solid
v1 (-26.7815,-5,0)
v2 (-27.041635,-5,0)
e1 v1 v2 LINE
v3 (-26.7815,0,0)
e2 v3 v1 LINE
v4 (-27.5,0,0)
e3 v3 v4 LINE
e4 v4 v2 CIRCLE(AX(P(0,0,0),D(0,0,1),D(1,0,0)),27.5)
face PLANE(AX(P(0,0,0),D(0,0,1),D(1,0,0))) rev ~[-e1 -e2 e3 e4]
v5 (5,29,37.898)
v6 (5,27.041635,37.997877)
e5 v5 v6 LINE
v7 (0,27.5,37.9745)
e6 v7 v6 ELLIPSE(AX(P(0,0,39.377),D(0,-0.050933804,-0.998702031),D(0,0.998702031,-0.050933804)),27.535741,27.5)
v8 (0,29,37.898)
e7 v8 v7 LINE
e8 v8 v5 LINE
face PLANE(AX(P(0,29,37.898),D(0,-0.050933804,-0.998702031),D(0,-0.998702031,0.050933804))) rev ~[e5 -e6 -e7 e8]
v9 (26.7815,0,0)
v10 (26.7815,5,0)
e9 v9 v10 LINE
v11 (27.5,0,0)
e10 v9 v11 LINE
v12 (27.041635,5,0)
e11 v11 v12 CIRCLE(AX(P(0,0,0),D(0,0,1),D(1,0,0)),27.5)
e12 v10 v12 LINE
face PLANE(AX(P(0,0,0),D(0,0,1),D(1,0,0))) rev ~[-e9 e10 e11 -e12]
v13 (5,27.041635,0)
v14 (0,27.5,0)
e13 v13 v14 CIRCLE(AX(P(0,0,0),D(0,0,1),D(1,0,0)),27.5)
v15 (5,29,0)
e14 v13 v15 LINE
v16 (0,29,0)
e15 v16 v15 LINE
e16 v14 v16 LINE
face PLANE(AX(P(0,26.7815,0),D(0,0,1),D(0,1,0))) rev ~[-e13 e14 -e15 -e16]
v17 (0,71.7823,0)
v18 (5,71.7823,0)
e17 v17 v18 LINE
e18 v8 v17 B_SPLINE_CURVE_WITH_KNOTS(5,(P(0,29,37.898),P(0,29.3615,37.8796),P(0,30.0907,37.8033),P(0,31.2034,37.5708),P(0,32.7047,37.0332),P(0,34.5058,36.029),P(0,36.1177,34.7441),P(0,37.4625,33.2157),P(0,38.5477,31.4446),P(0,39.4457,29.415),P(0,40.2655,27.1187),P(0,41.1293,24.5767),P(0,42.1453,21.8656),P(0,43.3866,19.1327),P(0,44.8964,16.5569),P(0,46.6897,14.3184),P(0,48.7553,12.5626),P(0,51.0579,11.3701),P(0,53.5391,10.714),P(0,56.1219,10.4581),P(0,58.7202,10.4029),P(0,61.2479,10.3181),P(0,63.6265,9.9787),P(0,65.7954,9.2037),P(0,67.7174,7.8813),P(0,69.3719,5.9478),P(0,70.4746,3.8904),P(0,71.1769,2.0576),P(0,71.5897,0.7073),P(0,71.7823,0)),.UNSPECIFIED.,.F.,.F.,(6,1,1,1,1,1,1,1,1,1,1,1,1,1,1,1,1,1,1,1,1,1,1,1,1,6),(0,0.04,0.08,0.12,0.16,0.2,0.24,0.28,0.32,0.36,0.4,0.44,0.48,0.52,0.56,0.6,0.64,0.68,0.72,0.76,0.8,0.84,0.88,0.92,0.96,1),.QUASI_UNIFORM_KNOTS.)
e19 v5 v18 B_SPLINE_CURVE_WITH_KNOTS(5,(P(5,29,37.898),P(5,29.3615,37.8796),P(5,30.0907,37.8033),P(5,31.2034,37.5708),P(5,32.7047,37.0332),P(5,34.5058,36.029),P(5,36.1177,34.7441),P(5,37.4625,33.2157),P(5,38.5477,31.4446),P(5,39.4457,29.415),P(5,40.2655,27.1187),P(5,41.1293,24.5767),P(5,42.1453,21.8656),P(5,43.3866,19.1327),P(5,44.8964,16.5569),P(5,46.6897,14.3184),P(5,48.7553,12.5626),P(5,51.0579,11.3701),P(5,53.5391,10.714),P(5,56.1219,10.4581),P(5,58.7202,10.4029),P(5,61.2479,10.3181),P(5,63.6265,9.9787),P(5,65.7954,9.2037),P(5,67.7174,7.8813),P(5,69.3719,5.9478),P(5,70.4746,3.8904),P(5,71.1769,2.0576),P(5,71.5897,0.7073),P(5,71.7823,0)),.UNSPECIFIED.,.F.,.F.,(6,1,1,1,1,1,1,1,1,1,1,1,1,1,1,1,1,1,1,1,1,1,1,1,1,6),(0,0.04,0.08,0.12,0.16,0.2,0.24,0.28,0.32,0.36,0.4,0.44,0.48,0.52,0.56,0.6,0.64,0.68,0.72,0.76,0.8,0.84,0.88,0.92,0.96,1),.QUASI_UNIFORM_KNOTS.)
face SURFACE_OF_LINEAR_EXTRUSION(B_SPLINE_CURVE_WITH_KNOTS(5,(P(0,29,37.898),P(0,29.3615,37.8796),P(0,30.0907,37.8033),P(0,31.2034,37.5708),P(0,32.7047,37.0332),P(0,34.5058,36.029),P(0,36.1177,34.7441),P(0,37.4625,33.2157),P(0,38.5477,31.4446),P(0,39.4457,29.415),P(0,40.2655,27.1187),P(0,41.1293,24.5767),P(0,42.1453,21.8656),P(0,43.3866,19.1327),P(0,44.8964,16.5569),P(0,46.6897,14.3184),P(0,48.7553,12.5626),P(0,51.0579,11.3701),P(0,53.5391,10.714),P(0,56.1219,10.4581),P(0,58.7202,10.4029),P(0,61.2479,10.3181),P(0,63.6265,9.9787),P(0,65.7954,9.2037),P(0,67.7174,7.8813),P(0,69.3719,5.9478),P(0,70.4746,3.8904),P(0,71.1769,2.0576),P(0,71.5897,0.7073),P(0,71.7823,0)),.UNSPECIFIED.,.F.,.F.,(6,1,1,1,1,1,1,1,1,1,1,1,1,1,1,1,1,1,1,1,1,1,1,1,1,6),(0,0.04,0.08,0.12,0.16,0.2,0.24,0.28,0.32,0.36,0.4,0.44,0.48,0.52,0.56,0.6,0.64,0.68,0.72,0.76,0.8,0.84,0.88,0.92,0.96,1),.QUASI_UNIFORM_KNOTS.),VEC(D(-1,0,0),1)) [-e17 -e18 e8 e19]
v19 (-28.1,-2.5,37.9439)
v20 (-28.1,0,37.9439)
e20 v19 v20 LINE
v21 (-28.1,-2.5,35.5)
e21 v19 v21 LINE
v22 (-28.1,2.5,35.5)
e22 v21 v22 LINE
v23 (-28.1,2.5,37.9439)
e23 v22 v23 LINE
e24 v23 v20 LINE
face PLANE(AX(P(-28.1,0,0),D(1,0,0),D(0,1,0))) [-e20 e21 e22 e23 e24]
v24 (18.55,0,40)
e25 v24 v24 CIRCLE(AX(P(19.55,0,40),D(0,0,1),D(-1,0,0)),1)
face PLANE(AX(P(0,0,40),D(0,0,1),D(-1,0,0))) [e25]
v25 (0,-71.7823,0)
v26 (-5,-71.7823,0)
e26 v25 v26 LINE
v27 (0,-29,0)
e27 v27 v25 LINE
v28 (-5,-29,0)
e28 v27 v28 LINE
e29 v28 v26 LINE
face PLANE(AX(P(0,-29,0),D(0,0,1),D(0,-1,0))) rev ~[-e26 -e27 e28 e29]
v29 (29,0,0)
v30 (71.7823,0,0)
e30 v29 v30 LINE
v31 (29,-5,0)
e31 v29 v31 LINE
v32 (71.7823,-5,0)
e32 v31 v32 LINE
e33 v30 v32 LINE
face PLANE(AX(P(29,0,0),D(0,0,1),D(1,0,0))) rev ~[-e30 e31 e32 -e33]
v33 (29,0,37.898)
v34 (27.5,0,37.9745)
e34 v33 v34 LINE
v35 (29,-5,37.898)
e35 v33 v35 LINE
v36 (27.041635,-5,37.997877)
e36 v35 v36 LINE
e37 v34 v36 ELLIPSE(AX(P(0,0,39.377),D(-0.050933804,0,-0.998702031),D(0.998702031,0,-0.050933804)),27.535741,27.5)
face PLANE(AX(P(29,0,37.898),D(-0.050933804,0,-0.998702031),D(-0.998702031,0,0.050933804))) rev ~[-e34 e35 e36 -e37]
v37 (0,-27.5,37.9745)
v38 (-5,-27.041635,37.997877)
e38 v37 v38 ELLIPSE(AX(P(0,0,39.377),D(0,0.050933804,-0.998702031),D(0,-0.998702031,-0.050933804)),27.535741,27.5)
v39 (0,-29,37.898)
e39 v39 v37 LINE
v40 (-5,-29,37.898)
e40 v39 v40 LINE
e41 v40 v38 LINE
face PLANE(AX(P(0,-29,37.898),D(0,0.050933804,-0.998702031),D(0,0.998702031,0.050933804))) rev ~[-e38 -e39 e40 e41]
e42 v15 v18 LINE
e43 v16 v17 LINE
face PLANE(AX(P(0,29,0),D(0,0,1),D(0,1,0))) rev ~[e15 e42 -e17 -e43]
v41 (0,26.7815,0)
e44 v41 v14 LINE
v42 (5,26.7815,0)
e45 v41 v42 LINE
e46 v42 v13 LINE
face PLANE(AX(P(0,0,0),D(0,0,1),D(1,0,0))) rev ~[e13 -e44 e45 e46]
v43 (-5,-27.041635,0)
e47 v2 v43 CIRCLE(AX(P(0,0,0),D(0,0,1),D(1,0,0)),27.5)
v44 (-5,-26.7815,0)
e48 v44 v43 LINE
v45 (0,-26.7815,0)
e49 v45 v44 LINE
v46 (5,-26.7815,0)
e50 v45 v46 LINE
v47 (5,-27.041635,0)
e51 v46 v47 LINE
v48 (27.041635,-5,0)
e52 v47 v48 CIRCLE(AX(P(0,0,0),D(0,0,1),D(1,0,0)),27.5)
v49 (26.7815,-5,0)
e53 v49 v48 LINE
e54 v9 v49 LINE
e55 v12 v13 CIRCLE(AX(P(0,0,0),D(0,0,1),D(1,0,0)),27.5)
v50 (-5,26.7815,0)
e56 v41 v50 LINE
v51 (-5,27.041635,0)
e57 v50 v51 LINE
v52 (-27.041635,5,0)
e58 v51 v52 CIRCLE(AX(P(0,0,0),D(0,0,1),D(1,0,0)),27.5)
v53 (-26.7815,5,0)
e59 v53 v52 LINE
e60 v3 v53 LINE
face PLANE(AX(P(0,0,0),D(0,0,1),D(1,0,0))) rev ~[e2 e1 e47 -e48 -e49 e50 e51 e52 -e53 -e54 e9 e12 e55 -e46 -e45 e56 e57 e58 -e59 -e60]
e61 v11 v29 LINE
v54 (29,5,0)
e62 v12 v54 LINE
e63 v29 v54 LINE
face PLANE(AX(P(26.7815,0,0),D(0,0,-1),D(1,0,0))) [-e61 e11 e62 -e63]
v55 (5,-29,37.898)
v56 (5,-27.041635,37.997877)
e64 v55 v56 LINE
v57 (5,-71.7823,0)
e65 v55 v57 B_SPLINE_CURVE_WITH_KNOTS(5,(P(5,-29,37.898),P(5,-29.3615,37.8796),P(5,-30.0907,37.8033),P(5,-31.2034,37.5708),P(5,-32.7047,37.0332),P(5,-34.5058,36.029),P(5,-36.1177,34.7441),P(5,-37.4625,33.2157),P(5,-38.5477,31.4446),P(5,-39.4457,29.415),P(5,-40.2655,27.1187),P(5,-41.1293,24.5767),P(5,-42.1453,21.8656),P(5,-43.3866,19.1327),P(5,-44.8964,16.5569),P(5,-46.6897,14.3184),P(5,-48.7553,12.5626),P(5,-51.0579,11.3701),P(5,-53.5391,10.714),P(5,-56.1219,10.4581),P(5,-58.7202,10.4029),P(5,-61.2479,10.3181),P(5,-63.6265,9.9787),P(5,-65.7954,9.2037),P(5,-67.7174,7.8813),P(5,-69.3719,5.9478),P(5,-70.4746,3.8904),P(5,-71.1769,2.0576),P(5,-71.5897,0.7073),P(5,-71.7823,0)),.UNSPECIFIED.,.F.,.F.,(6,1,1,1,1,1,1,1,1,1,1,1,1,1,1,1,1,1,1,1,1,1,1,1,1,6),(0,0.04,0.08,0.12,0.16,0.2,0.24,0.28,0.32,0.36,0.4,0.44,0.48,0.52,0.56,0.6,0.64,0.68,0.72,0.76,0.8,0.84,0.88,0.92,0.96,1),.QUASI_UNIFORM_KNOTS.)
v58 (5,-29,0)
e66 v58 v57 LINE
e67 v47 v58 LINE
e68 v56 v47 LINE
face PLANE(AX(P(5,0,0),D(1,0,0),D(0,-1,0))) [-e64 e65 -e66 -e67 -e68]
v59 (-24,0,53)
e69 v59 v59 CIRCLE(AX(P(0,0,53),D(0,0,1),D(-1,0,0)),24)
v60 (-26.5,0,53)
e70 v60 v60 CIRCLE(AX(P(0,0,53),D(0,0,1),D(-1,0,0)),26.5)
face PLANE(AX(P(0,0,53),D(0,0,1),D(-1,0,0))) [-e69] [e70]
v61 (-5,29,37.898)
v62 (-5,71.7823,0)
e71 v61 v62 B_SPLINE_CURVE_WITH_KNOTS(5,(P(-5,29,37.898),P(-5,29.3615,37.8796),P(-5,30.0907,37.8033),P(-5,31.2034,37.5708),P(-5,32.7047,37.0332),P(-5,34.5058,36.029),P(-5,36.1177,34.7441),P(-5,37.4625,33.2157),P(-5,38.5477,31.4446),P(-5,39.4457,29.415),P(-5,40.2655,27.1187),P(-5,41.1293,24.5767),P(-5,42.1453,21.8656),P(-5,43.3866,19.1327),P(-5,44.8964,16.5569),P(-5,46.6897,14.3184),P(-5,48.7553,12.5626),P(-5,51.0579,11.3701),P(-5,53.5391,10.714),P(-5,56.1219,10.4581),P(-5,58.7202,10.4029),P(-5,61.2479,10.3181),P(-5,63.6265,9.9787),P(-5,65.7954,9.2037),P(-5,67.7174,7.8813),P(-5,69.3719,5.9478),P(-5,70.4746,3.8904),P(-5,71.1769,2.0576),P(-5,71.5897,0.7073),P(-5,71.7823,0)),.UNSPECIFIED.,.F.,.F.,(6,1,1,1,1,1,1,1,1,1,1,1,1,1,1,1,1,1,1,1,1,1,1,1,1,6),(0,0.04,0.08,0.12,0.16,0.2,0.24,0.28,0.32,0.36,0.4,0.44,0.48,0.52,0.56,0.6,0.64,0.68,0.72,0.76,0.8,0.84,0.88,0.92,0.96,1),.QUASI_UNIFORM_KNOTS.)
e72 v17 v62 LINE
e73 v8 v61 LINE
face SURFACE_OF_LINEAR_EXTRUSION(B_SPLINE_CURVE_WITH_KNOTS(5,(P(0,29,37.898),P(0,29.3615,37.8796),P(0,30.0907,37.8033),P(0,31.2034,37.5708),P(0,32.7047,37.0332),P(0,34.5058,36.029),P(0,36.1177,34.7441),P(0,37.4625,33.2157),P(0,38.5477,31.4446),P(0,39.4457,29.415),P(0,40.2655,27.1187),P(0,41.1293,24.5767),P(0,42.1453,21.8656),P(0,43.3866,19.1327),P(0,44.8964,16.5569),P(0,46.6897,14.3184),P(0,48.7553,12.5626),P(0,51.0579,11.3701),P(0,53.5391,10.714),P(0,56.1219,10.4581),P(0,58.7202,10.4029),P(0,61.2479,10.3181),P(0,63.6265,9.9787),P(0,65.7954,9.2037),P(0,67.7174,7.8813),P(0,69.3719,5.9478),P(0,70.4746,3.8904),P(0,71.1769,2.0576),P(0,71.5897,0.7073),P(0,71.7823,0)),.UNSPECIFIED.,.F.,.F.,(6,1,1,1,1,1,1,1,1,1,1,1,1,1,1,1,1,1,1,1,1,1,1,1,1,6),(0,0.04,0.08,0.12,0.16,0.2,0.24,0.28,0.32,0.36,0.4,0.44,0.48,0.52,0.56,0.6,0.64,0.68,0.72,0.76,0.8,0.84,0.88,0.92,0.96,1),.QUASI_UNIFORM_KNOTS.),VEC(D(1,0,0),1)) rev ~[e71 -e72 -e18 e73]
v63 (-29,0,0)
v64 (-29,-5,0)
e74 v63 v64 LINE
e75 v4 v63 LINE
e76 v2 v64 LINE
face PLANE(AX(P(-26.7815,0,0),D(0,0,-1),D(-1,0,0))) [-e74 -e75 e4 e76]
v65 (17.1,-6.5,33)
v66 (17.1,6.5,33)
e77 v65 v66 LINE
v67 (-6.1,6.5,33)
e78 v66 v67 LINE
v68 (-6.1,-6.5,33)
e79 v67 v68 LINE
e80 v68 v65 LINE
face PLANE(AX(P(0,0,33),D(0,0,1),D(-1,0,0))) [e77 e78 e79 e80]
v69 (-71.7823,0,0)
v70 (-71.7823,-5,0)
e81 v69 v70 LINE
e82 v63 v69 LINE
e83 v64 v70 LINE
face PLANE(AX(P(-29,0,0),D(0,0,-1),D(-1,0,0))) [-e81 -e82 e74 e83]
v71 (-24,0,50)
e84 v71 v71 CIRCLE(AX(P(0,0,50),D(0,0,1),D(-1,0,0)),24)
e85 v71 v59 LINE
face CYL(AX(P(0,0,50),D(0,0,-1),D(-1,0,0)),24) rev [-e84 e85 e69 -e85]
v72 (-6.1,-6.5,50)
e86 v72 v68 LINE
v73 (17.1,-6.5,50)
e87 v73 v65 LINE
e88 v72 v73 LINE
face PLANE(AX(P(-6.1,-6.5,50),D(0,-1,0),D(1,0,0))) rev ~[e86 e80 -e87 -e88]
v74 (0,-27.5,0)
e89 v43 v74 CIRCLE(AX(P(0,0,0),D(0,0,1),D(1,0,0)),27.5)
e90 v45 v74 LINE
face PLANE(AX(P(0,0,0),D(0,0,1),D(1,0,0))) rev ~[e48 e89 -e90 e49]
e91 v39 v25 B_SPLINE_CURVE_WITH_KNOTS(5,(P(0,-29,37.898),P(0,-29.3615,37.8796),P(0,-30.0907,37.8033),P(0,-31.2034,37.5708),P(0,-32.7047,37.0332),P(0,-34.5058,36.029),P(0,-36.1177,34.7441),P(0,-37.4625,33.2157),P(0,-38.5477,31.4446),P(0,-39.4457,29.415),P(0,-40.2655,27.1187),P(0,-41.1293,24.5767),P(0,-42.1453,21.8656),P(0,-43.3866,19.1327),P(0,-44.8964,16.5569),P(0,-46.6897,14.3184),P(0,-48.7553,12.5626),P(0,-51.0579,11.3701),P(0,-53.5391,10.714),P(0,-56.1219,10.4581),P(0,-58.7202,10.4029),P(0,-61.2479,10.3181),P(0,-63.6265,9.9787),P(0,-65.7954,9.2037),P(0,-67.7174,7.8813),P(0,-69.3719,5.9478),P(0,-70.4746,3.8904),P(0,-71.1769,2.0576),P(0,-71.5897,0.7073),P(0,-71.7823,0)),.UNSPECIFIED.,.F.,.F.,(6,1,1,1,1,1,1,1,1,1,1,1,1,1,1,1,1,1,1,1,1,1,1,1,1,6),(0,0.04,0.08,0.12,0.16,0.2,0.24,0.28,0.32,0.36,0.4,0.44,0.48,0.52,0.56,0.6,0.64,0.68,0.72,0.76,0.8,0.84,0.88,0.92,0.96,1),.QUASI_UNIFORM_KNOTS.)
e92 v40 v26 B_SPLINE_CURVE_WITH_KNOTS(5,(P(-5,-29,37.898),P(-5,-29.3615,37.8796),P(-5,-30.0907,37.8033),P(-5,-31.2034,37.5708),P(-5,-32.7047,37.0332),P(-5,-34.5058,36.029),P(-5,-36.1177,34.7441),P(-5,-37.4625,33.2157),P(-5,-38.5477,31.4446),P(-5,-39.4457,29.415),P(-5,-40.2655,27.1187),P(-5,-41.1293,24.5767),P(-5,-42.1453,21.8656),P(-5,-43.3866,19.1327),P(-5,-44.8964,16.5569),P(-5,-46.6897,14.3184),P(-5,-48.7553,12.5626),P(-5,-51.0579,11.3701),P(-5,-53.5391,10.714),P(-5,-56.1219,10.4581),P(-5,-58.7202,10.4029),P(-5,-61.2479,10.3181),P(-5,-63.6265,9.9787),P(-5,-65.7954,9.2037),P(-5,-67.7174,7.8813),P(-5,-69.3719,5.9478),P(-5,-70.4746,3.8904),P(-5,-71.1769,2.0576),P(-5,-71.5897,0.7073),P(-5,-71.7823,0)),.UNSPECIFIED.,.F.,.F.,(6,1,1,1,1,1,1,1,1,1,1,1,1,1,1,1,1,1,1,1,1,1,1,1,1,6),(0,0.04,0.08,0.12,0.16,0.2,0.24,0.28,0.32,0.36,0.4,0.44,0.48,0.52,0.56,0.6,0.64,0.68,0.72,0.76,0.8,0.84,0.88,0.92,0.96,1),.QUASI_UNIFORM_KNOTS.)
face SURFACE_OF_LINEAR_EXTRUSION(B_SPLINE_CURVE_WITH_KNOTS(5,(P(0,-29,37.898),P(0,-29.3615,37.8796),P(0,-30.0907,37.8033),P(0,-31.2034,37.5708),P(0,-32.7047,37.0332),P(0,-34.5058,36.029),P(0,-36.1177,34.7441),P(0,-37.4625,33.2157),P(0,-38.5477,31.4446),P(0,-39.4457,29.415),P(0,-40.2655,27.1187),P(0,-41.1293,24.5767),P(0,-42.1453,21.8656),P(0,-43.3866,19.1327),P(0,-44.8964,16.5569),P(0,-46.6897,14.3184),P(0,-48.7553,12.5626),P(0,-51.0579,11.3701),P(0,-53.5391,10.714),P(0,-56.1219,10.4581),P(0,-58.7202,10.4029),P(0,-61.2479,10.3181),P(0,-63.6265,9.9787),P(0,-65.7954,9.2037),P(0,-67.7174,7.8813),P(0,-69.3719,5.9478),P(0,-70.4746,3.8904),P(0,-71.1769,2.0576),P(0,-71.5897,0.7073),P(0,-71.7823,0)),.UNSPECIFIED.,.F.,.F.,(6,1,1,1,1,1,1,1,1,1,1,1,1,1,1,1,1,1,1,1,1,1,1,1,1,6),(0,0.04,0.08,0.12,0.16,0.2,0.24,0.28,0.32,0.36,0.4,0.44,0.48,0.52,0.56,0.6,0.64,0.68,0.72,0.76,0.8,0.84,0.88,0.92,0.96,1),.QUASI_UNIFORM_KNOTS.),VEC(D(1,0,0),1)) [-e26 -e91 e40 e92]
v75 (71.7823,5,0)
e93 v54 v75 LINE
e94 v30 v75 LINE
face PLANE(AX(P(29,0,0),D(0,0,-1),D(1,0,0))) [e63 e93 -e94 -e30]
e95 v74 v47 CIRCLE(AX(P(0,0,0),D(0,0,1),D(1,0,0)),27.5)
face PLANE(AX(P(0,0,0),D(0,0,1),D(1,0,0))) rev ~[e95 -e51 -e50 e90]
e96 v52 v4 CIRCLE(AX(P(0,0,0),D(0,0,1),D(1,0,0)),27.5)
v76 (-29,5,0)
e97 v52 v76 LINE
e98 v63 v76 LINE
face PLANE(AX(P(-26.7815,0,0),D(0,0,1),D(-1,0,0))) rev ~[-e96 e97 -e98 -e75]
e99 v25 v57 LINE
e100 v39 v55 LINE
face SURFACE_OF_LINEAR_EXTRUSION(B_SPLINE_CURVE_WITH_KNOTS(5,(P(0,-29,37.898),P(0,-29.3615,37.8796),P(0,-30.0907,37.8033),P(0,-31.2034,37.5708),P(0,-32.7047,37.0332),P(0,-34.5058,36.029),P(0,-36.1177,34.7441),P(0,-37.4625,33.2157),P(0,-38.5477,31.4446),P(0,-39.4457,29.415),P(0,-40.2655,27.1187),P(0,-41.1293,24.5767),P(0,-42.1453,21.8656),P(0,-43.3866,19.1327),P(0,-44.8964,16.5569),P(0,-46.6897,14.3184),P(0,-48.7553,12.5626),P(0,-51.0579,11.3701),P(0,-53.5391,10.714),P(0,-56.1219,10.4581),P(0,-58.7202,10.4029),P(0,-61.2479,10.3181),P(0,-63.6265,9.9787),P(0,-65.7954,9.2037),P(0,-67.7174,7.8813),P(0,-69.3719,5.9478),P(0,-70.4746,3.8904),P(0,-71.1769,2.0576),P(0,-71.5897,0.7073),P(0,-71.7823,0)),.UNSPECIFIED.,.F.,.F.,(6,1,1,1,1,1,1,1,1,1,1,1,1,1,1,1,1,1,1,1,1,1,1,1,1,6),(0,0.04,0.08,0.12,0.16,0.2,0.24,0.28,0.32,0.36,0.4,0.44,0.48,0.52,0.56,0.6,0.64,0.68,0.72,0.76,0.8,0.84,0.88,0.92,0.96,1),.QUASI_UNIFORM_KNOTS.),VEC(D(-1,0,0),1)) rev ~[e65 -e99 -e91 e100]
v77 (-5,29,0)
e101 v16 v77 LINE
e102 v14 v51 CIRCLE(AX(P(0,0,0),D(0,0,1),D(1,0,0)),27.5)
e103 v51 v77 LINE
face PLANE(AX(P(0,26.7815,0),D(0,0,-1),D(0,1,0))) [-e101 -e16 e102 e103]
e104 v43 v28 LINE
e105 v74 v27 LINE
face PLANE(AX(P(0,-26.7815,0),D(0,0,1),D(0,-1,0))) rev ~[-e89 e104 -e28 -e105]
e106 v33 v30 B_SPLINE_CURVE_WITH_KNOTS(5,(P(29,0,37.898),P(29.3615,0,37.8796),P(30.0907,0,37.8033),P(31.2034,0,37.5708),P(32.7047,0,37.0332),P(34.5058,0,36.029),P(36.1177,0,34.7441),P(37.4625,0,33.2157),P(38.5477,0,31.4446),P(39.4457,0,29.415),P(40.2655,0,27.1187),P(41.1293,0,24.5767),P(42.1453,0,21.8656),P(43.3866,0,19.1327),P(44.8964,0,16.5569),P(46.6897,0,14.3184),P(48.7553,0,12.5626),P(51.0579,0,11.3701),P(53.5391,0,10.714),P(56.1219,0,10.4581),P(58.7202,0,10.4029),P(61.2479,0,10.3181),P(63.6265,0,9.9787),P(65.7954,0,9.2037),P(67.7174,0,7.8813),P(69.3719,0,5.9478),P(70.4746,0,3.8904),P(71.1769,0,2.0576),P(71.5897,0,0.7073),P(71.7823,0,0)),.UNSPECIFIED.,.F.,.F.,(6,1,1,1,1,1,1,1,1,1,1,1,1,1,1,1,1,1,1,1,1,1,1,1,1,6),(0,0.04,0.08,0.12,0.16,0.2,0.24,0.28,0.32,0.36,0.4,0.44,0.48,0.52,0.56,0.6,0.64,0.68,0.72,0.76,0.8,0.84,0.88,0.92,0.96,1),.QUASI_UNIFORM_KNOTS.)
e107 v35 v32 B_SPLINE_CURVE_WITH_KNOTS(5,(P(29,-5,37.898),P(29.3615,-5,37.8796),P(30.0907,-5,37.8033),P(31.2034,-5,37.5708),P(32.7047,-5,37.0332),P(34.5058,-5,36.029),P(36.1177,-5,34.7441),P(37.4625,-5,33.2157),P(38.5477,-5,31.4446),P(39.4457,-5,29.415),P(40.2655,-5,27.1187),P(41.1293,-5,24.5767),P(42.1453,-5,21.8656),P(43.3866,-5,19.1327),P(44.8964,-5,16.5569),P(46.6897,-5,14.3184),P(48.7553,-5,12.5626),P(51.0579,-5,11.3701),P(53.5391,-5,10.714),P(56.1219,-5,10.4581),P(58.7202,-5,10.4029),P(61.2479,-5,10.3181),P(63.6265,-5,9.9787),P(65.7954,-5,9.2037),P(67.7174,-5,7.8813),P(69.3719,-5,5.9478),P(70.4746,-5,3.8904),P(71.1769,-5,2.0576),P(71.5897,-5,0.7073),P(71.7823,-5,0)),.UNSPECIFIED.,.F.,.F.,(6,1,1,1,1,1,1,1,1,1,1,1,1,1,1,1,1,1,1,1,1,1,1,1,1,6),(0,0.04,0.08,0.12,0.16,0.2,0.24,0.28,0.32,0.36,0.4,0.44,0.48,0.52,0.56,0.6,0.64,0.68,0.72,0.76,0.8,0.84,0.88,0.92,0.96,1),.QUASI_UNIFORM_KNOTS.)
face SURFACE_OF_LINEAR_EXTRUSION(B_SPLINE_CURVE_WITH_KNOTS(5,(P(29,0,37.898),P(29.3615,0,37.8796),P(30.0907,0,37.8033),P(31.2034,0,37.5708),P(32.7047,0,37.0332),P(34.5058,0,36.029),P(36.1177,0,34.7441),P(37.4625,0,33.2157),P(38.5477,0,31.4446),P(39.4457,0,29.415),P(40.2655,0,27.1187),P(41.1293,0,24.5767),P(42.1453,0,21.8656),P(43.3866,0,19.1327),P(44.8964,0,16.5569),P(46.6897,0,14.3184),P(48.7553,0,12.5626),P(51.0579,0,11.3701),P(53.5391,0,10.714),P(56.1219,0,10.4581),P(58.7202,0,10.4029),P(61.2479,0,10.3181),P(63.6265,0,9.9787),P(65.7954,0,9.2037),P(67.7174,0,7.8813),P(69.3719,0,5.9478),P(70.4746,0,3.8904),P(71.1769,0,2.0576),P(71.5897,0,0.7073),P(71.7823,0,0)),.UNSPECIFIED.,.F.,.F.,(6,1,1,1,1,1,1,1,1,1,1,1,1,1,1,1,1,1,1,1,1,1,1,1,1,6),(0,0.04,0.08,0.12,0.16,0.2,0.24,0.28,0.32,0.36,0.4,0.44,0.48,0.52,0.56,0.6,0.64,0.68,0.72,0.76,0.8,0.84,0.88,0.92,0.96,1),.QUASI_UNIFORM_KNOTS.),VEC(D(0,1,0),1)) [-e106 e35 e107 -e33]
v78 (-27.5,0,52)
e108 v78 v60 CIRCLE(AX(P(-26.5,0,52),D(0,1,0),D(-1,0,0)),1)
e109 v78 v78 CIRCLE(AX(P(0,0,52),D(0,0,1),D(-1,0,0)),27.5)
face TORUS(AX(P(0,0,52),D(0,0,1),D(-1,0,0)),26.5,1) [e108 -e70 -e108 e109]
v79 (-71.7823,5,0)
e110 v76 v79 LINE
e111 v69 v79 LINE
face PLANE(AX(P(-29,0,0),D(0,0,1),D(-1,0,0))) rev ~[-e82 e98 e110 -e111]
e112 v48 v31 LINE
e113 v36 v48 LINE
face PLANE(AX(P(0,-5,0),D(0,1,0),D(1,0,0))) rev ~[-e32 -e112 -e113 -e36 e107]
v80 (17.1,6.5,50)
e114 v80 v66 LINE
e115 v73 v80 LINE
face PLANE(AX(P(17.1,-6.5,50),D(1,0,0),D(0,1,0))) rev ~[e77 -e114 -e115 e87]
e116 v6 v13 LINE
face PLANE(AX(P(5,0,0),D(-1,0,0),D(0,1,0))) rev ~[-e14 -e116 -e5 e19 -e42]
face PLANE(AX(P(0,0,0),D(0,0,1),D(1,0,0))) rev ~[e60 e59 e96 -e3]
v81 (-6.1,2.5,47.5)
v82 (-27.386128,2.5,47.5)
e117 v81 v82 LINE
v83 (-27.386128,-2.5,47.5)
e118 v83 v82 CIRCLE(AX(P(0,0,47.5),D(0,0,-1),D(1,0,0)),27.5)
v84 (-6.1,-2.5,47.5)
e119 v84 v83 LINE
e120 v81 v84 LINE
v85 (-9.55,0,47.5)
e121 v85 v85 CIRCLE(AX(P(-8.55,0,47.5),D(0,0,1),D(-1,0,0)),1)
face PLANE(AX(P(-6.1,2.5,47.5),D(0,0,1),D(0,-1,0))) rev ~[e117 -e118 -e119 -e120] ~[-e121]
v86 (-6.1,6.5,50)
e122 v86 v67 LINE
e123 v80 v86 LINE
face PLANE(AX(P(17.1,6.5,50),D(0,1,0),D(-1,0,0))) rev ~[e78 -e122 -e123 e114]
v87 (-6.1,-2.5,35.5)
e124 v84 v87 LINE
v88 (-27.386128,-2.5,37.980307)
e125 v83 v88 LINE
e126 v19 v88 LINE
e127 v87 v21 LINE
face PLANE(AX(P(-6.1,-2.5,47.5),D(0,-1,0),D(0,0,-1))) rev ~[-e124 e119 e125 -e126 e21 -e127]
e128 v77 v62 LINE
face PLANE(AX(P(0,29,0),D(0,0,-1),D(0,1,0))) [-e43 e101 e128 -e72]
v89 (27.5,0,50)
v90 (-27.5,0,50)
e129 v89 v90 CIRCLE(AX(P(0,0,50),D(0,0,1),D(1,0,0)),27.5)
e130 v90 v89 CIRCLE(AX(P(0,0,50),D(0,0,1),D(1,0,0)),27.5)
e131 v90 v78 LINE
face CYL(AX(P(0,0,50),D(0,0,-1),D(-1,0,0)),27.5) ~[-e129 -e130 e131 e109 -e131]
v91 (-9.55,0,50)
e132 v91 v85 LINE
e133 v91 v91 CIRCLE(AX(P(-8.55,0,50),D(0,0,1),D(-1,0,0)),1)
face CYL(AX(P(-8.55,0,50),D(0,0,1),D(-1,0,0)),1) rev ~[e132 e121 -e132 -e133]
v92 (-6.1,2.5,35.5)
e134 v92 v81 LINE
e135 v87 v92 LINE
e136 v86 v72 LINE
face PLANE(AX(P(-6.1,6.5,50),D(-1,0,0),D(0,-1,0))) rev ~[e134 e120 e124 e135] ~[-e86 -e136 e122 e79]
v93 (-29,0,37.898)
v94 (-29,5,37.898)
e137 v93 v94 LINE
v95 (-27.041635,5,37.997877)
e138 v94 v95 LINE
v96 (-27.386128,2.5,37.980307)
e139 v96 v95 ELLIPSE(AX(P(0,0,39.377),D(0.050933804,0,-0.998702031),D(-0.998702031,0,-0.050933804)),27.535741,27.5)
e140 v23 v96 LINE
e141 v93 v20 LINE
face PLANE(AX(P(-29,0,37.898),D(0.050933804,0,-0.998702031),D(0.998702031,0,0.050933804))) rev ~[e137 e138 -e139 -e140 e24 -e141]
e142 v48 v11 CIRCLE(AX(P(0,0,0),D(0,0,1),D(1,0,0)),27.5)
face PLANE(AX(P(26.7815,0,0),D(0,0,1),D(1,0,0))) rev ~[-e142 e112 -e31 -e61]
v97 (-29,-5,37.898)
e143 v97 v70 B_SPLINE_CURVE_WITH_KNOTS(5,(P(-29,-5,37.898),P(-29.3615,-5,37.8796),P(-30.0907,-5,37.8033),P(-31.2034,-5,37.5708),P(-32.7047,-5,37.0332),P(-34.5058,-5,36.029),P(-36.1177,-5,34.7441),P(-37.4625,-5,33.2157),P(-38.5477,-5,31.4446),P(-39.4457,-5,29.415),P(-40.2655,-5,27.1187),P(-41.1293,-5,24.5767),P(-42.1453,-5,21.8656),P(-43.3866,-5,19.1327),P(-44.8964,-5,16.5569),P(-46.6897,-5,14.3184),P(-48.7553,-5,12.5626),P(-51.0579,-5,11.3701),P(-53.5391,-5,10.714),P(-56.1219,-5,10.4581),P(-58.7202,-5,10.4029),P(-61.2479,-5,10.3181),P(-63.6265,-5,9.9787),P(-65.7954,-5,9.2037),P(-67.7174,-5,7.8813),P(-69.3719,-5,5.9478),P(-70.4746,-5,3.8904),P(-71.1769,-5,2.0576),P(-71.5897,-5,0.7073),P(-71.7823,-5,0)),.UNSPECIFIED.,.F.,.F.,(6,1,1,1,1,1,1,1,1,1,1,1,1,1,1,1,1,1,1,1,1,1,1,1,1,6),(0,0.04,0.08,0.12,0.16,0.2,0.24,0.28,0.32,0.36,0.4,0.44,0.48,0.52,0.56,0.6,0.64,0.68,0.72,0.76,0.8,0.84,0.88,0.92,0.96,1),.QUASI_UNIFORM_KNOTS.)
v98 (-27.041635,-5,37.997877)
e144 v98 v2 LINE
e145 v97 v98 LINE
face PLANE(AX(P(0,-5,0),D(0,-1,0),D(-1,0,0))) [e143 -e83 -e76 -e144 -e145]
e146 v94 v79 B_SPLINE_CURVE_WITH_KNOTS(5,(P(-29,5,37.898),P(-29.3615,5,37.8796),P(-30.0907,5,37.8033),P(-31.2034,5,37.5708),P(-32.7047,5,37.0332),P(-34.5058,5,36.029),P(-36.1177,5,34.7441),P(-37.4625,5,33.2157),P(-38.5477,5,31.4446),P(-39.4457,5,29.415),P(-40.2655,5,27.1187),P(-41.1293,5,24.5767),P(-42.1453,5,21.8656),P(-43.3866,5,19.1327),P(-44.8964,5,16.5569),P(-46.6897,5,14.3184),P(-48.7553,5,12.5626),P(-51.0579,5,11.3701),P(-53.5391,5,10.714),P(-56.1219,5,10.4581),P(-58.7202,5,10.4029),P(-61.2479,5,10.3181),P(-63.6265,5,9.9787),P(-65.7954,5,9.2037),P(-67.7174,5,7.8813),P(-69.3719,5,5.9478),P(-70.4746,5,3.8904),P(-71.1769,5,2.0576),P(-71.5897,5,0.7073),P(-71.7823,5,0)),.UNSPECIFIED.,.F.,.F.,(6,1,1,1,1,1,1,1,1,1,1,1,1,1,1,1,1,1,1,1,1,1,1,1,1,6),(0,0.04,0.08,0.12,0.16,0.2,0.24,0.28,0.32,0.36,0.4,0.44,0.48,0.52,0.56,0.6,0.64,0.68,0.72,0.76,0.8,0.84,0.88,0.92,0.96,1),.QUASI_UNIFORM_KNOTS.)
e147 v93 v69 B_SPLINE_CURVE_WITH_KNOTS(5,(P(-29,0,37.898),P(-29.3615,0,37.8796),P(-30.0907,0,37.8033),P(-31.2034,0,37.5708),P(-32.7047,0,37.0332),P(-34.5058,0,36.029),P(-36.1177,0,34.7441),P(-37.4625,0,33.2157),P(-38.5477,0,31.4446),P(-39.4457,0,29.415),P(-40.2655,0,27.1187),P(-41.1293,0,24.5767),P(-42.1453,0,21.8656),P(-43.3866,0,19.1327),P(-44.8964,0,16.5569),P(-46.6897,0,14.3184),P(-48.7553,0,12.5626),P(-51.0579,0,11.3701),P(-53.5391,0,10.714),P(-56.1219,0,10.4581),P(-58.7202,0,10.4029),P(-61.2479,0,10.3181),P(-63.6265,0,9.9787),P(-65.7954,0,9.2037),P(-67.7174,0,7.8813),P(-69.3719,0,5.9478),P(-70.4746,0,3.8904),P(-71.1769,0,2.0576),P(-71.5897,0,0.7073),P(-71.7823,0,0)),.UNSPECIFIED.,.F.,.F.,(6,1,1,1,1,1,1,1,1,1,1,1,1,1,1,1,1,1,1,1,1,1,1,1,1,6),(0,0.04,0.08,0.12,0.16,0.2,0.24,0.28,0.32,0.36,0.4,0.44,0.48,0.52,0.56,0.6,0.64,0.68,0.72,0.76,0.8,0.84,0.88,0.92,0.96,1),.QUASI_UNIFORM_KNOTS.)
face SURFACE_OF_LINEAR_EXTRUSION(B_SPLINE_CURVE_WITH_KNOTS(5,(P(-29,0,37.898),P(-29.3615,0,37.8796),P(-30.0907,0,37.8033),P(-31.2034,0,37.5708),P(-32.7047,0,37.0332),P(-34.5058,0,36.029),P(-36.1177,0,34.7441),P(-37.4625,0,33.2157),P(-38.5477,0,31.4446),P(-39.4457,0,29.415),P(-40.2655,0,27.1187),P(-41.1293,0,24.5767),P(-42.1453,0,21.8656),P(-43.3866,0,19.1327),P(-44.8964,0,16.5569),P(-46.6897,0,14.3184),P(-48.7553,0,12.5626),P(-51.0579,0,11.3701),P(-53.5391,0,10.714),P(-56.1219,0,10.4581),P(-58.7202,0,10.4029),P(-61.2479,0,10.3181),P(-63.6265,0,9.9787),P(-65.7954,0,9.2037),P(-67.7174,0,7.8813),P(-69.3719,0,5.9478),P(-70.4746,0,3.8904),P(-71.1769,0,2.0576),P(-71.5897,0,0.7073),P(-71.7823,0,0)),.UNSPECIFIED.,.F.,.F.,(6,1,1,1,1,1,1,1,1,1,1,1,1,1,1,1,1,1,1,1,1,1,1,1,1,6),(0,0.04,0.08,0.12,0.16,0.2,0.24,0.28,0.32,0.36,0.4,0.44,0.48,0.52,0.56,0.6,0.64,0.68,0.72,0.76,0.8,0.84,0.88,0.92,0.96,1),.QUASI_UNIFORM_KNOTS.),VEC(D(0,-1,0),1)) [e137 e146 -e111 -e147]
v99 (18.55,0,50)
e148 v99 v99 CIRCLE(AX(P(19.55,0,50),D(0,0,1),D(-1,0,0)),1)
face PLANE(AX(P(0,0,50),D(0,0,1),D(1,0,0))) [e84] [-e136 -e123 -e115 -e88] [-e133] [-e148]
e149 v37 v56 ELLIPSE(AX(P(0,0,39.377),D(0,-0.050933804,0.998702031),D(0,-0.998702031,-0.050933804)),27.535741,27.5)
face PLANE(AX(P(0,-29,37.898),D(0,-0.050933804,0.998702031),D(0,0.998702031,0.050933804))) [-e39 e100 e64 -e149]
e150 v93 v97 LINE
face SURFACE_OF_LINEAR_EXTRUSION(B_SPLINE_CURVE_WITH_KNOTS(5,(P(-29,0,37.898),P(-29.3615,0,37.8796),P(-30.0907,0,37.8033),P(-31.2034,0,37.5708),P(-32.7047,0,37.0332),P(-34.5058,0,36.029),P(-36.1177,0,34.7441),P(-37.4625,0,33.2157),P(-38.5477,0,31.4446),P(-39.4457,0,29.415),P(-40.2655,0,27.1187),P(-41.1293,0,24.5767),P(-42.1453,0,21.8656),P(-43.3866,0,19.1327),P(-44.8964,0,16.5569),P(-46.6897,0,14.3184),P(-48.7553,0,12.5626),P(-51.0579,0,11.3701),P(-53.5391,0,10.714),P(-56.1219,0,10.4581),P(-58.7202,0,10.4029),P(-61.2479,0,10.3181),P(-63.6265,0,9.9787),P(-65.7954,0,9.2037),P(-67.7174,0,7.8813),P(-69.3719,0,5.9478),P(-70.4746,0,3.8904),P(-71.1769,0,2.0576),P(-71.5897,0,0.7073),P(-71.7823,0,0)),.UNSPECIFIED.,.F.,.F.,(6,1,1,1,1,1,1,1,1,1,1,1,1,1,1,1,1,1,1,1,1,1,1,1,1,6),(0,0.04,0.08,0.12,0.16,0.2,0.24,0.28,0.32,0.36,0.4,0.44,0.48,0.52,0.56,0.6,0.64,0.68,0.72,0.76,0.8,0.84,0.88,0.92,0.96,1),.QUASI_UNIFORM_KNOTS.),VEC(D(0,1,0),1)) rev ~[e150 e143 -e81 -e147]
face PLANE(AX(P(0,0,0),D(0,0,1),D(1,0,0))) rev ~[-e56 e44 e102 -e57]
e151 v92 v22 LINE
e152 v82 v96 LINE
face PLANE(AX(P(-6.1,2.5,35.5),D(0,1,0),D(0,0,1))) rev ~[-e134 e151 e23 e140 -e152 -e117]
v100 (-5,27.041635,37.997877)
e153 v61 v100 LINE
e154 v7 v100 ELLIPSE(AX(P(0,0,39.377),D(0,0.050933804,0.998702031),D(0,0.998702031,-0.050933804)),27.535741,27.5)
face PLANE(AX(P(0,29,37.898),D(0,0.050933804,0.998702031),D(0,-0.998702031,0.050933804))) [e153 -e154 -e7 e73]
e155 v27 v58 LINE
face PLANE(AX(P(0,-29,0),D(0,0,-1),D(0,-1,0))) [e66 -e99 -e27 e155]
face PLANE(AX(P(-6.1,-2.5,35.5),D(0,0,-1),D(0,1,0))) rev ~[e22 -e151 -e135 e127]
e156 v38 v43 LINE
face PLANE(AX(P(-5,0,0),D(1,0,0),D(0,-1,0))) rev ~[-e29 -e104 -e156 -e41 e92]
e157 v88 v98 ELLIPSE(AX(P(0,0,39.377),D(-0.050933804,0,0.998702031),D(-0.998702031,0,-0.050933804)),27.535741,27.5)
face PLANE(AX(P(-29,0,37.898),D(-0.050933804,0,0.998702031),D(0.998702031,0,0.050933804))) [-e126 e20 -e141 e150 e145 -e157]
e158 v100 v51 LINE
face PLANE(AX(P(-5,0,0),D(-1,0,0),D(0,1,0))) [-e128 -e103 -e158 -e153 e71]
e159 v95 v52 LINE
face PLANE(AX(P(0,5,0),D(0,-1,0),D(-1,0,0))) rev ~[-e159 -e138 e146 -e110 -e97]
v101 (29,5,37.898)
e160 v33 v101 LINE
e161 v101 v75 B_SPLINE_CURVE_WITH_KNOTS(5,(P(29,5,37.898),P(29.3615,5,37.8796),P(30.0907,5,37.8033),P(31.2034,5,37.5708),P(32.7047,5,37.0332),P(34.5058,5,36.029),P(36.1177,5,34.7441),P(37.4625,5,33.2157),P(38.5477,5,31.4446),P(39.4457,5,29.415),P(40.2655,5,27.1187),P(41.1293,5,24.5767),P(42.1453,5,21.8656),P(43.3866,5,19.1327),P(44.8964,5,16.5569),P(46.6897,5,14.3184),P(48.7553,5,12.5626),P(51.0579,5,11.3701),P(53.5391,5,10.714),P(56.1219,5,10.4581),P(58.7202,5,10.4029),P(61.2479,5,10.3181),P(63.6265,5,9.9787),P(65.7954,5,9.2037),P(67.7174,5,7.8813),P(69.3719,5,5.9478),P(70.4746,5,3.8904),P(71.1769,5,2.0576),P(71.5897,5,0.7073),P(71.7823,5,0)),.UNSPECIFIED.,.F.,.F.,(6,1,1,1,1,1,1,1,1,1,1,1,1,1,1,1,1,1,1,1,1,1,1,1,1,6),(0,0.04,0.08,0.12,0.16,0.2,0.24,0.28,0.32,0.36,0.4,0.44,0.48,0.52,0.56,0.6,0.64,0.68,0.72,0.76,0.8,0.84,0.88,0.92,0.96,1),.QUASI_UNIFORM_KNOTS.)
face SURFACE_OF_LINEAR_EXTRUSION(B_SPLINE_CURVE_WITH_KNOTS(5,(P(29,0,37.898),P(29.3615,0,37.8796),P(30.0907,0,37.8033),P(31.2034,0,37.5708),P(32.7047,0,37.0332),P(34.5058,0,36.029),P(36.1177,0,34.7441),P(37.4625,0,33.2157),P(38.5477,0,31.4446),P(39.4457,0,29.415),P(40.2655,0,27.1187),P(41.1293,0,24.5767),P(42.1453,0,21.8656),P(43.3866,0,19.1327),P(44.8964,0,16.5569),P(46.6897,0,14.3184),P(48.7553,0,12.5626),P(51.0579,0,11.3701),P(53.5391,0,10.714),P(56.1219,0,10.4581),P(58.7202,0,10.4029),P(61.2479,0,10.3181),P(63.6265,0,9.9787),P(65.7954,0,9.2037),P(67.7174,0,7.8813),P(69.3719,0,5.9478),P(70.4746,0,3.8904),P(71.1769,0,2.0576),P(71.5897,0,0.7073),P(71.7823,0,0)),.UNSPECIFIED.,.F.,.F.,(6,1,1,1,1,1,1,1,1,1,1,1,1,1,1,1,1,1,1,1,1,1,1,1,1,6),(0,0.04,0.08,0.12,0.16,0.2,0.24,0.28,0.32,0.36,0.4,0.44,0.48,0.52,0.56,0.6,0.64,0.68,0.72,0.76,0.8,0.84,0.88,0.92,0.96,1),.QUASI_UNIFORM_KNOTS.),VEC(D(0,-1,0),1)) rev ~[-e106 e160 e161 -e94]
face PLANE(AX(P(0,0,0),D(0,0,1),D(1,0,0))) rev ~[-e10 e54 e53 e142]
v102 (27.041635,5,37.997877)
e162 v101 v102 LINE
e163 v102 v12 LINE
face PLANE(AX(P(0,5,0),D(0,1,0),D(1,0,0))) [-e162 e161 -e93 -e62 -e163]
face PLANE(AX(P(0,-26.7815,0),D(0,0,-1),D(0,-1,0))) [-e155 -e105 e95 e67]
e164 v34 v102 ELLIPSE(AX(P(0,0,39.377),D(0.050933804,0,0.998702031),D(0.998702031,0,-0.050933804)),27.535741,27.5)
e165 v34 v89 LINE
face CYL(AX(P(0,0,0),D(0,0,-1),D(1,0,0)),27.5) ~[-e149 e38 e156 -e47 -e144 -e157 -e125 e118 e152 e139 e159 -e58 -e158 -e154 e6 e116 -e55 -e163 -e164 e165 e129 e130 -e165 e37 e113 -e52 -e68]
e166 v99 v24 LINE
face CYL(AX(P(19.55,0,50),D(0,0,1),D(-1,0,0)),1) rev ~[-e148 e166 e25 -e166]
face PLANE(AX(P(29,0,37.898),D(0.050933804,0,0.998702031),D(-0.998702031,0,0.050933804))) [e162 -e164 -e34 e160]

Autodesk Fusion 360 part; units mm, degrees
sketch "Sketch1" plane through (0, 0, 0) normal (0, 0, 1) x (1, 0, 0)
  circle A0 centre (0, 0) radius 27.5
  dimension "d1" = 55
extrude "Extrude1" add sketch "Sketch1" along normal blind 50
sketch "Sketch2" plane through (0, 0, 0) normal (0, 1, 0) x (1, 0, 0)
  line L0 (29, -50) -> (29, -37.898) construction
  line L1 (29, 0) -> (71.7823, 0)
  spline S0 degree 5 poles (29, -37.898) (29.3615, -37.8796) (30.0907, -37.8033) (31.2034, -37.5708) (32.7047, -37.0332) (34.5058, -36.029) (36.1177, -34.7441) (37.4625, -33.2157) (38.5477, -31.4446) (39.4457, -29.415) (40.2655, -27.1187) (41.1293, -24.5767) (42.1453, -21.8656) (43.3866, -19.1327) (44.8964, -16.5569) (46.6897, -14.3184) (48.7553, -12.5626) (51.0579, -11.3701) (53.5391, -10.714) (56.1219, -10.4581) (58.7202, -10.4029) (61.2479, -10.3181) (63.6265, -9.9787) (65.7954, -9.2037) (67.7174, -7.8813) (69.3719, -5.9478) (70.4746, -3.8904) (71.1769, -2.0576) (71.5897, -0.7073) (71.7823, 0) knots 0 0 0 0 0 0 0.04 0.08 0.12 0.16 0.2 0.24 0.28 0.32 0.36 0.4 0.44 0.48 0.52 0.56 0.6 0.64 0.68 0.72 0.76 0.8 0.84 0.88 0.92 0.96 1 1 1 1 1 1
  line L2 (29, -37.898) -> (27, -38)
  line L3 (27, -38) -> (26.7815, 0)
  line L4 (26.7815, 0) -> (29, 0)
  point P0 (36.1963, -34.5428)
  point P1 (41, -25)
  point P2 (50, -12)
  point P3 (63, -10)
  dimension "d7" = 45
extrude "Extrude2" add sketch "Sketch2" along normal mid plane 10
pattern_circular "C-Pattern1" count 4 over 360 about axis through (0, 0, 50) along (0, 0, 1) of "Extrude2"
sketch "Sketch3" plane through (0, 0, 50) normal (0, 0, 1) x (-1, 0, 0)
  circle A0 centre (0, 0) radius 27.5
  circle A1 centre (0, 0) radius 3.15
  line L0 (-17.1, -6.5) -> (11, -6.5)
  line L1 (11, -6.5) -> (11, 6.5)
  line L2 (11, 6.5) -> (-17.1, 6.5)
  line L3 (-17.1, 6.5) -> (-17.1, -6.5)
  line L4 (6.1, -6.5) -> (6.1, 6.5)
  line L5 (-17.1, 6.5) -> (-22, 6.5)
  line L6 (-22, 6.5) -> (-22, -6.5)
  line L7 (-22, -6.5) -> (-17.1, -6.5)
  line L8 (-22, 0) -> (11, 0) construction
  line L9 (6.1, -6.5) -> (11, 6.5) construction
  line L10 (6.1, 6.5) -> (11, -6.5) construction
  circle A2 centre (8.55, 0) radius 1
  line L11 (-22, -6.5) -> (-17.1, 6.5) construction
  line L12 (-22, 6.5) -> (-17.1, -6.5) construction
  circle A3 centre (-19.55, 0) radius 1
  circle A4 centre (0, 0) radius 24
  dimension "d10" = 6.3
  dimension "d11" = 11
  dimension "d12" = 4.9
  dimension "d13" = 23.2
  dimension "d14" = 4.9
  dimension "d16" = 13
  dimension "d19" = 2
  dimension "d20" = 2
  dimension "d23" = -3.5
extrude "Extrude3" cut sketch "Sketch3" against normal blind 17 contours A1 | L0 L2 L3 L4
extrude "Extrude4" cut sketch "Sketch3" against normal blind 10 contours A2 | A3
extrude "Extrude5" add sketch "Sketch3" along normal blind 3 contours A0
fillet "Fillet1" radius 1 1 edges at (25.639, 9.9444, 53)
sketch "Sketch4" plane through (-6.1, 0, 0) normal (1, 0, 0) x (0, 1, 0)
  line L0 (6.5, 50) -> (-6.5, 50)
  line L1 (-6.5, 50) -> (-6.5, 33)
  line L2 (-6.5, 33) -> (6.5, 33)
  line L3 (6.5, 33) -> (6.5, 50)
  line L4 (-6.5, 50) -> (6.5, 50) construction
  line L5 (6.5, 50) -> (6.5, 33) construction
  line L6 (6.5, 33) -> (-6.5, 33) construction
  line L7 (-6.5, 33) -> (-6.5, 50) construction
  line L8 (2.5, 47.5) -> (-2.5, 47.5)
  line L9 (-2.5, 47.5) -> (-2.5, 35.5)
  line L10 (-2.5, 35.5) -> (2.5, 35.5)
  line L11 (2.5, 35.5) -> (2.5, 47.5)
  line L12 (2.5, 47.5) -> (-2.5, 35.5) construction
  line L13 (-2.5, 47.5) -> (2.5, 35.5) construction
  point P0 (0, 41.5)
  dimension "d28" = 5
  dimension "d29" = 12
  dimension "d30" = 2.5
extrude "Extrude6" cut sketch "Sketch4" against normal blind 22 contours L8 L9 L10 L11
